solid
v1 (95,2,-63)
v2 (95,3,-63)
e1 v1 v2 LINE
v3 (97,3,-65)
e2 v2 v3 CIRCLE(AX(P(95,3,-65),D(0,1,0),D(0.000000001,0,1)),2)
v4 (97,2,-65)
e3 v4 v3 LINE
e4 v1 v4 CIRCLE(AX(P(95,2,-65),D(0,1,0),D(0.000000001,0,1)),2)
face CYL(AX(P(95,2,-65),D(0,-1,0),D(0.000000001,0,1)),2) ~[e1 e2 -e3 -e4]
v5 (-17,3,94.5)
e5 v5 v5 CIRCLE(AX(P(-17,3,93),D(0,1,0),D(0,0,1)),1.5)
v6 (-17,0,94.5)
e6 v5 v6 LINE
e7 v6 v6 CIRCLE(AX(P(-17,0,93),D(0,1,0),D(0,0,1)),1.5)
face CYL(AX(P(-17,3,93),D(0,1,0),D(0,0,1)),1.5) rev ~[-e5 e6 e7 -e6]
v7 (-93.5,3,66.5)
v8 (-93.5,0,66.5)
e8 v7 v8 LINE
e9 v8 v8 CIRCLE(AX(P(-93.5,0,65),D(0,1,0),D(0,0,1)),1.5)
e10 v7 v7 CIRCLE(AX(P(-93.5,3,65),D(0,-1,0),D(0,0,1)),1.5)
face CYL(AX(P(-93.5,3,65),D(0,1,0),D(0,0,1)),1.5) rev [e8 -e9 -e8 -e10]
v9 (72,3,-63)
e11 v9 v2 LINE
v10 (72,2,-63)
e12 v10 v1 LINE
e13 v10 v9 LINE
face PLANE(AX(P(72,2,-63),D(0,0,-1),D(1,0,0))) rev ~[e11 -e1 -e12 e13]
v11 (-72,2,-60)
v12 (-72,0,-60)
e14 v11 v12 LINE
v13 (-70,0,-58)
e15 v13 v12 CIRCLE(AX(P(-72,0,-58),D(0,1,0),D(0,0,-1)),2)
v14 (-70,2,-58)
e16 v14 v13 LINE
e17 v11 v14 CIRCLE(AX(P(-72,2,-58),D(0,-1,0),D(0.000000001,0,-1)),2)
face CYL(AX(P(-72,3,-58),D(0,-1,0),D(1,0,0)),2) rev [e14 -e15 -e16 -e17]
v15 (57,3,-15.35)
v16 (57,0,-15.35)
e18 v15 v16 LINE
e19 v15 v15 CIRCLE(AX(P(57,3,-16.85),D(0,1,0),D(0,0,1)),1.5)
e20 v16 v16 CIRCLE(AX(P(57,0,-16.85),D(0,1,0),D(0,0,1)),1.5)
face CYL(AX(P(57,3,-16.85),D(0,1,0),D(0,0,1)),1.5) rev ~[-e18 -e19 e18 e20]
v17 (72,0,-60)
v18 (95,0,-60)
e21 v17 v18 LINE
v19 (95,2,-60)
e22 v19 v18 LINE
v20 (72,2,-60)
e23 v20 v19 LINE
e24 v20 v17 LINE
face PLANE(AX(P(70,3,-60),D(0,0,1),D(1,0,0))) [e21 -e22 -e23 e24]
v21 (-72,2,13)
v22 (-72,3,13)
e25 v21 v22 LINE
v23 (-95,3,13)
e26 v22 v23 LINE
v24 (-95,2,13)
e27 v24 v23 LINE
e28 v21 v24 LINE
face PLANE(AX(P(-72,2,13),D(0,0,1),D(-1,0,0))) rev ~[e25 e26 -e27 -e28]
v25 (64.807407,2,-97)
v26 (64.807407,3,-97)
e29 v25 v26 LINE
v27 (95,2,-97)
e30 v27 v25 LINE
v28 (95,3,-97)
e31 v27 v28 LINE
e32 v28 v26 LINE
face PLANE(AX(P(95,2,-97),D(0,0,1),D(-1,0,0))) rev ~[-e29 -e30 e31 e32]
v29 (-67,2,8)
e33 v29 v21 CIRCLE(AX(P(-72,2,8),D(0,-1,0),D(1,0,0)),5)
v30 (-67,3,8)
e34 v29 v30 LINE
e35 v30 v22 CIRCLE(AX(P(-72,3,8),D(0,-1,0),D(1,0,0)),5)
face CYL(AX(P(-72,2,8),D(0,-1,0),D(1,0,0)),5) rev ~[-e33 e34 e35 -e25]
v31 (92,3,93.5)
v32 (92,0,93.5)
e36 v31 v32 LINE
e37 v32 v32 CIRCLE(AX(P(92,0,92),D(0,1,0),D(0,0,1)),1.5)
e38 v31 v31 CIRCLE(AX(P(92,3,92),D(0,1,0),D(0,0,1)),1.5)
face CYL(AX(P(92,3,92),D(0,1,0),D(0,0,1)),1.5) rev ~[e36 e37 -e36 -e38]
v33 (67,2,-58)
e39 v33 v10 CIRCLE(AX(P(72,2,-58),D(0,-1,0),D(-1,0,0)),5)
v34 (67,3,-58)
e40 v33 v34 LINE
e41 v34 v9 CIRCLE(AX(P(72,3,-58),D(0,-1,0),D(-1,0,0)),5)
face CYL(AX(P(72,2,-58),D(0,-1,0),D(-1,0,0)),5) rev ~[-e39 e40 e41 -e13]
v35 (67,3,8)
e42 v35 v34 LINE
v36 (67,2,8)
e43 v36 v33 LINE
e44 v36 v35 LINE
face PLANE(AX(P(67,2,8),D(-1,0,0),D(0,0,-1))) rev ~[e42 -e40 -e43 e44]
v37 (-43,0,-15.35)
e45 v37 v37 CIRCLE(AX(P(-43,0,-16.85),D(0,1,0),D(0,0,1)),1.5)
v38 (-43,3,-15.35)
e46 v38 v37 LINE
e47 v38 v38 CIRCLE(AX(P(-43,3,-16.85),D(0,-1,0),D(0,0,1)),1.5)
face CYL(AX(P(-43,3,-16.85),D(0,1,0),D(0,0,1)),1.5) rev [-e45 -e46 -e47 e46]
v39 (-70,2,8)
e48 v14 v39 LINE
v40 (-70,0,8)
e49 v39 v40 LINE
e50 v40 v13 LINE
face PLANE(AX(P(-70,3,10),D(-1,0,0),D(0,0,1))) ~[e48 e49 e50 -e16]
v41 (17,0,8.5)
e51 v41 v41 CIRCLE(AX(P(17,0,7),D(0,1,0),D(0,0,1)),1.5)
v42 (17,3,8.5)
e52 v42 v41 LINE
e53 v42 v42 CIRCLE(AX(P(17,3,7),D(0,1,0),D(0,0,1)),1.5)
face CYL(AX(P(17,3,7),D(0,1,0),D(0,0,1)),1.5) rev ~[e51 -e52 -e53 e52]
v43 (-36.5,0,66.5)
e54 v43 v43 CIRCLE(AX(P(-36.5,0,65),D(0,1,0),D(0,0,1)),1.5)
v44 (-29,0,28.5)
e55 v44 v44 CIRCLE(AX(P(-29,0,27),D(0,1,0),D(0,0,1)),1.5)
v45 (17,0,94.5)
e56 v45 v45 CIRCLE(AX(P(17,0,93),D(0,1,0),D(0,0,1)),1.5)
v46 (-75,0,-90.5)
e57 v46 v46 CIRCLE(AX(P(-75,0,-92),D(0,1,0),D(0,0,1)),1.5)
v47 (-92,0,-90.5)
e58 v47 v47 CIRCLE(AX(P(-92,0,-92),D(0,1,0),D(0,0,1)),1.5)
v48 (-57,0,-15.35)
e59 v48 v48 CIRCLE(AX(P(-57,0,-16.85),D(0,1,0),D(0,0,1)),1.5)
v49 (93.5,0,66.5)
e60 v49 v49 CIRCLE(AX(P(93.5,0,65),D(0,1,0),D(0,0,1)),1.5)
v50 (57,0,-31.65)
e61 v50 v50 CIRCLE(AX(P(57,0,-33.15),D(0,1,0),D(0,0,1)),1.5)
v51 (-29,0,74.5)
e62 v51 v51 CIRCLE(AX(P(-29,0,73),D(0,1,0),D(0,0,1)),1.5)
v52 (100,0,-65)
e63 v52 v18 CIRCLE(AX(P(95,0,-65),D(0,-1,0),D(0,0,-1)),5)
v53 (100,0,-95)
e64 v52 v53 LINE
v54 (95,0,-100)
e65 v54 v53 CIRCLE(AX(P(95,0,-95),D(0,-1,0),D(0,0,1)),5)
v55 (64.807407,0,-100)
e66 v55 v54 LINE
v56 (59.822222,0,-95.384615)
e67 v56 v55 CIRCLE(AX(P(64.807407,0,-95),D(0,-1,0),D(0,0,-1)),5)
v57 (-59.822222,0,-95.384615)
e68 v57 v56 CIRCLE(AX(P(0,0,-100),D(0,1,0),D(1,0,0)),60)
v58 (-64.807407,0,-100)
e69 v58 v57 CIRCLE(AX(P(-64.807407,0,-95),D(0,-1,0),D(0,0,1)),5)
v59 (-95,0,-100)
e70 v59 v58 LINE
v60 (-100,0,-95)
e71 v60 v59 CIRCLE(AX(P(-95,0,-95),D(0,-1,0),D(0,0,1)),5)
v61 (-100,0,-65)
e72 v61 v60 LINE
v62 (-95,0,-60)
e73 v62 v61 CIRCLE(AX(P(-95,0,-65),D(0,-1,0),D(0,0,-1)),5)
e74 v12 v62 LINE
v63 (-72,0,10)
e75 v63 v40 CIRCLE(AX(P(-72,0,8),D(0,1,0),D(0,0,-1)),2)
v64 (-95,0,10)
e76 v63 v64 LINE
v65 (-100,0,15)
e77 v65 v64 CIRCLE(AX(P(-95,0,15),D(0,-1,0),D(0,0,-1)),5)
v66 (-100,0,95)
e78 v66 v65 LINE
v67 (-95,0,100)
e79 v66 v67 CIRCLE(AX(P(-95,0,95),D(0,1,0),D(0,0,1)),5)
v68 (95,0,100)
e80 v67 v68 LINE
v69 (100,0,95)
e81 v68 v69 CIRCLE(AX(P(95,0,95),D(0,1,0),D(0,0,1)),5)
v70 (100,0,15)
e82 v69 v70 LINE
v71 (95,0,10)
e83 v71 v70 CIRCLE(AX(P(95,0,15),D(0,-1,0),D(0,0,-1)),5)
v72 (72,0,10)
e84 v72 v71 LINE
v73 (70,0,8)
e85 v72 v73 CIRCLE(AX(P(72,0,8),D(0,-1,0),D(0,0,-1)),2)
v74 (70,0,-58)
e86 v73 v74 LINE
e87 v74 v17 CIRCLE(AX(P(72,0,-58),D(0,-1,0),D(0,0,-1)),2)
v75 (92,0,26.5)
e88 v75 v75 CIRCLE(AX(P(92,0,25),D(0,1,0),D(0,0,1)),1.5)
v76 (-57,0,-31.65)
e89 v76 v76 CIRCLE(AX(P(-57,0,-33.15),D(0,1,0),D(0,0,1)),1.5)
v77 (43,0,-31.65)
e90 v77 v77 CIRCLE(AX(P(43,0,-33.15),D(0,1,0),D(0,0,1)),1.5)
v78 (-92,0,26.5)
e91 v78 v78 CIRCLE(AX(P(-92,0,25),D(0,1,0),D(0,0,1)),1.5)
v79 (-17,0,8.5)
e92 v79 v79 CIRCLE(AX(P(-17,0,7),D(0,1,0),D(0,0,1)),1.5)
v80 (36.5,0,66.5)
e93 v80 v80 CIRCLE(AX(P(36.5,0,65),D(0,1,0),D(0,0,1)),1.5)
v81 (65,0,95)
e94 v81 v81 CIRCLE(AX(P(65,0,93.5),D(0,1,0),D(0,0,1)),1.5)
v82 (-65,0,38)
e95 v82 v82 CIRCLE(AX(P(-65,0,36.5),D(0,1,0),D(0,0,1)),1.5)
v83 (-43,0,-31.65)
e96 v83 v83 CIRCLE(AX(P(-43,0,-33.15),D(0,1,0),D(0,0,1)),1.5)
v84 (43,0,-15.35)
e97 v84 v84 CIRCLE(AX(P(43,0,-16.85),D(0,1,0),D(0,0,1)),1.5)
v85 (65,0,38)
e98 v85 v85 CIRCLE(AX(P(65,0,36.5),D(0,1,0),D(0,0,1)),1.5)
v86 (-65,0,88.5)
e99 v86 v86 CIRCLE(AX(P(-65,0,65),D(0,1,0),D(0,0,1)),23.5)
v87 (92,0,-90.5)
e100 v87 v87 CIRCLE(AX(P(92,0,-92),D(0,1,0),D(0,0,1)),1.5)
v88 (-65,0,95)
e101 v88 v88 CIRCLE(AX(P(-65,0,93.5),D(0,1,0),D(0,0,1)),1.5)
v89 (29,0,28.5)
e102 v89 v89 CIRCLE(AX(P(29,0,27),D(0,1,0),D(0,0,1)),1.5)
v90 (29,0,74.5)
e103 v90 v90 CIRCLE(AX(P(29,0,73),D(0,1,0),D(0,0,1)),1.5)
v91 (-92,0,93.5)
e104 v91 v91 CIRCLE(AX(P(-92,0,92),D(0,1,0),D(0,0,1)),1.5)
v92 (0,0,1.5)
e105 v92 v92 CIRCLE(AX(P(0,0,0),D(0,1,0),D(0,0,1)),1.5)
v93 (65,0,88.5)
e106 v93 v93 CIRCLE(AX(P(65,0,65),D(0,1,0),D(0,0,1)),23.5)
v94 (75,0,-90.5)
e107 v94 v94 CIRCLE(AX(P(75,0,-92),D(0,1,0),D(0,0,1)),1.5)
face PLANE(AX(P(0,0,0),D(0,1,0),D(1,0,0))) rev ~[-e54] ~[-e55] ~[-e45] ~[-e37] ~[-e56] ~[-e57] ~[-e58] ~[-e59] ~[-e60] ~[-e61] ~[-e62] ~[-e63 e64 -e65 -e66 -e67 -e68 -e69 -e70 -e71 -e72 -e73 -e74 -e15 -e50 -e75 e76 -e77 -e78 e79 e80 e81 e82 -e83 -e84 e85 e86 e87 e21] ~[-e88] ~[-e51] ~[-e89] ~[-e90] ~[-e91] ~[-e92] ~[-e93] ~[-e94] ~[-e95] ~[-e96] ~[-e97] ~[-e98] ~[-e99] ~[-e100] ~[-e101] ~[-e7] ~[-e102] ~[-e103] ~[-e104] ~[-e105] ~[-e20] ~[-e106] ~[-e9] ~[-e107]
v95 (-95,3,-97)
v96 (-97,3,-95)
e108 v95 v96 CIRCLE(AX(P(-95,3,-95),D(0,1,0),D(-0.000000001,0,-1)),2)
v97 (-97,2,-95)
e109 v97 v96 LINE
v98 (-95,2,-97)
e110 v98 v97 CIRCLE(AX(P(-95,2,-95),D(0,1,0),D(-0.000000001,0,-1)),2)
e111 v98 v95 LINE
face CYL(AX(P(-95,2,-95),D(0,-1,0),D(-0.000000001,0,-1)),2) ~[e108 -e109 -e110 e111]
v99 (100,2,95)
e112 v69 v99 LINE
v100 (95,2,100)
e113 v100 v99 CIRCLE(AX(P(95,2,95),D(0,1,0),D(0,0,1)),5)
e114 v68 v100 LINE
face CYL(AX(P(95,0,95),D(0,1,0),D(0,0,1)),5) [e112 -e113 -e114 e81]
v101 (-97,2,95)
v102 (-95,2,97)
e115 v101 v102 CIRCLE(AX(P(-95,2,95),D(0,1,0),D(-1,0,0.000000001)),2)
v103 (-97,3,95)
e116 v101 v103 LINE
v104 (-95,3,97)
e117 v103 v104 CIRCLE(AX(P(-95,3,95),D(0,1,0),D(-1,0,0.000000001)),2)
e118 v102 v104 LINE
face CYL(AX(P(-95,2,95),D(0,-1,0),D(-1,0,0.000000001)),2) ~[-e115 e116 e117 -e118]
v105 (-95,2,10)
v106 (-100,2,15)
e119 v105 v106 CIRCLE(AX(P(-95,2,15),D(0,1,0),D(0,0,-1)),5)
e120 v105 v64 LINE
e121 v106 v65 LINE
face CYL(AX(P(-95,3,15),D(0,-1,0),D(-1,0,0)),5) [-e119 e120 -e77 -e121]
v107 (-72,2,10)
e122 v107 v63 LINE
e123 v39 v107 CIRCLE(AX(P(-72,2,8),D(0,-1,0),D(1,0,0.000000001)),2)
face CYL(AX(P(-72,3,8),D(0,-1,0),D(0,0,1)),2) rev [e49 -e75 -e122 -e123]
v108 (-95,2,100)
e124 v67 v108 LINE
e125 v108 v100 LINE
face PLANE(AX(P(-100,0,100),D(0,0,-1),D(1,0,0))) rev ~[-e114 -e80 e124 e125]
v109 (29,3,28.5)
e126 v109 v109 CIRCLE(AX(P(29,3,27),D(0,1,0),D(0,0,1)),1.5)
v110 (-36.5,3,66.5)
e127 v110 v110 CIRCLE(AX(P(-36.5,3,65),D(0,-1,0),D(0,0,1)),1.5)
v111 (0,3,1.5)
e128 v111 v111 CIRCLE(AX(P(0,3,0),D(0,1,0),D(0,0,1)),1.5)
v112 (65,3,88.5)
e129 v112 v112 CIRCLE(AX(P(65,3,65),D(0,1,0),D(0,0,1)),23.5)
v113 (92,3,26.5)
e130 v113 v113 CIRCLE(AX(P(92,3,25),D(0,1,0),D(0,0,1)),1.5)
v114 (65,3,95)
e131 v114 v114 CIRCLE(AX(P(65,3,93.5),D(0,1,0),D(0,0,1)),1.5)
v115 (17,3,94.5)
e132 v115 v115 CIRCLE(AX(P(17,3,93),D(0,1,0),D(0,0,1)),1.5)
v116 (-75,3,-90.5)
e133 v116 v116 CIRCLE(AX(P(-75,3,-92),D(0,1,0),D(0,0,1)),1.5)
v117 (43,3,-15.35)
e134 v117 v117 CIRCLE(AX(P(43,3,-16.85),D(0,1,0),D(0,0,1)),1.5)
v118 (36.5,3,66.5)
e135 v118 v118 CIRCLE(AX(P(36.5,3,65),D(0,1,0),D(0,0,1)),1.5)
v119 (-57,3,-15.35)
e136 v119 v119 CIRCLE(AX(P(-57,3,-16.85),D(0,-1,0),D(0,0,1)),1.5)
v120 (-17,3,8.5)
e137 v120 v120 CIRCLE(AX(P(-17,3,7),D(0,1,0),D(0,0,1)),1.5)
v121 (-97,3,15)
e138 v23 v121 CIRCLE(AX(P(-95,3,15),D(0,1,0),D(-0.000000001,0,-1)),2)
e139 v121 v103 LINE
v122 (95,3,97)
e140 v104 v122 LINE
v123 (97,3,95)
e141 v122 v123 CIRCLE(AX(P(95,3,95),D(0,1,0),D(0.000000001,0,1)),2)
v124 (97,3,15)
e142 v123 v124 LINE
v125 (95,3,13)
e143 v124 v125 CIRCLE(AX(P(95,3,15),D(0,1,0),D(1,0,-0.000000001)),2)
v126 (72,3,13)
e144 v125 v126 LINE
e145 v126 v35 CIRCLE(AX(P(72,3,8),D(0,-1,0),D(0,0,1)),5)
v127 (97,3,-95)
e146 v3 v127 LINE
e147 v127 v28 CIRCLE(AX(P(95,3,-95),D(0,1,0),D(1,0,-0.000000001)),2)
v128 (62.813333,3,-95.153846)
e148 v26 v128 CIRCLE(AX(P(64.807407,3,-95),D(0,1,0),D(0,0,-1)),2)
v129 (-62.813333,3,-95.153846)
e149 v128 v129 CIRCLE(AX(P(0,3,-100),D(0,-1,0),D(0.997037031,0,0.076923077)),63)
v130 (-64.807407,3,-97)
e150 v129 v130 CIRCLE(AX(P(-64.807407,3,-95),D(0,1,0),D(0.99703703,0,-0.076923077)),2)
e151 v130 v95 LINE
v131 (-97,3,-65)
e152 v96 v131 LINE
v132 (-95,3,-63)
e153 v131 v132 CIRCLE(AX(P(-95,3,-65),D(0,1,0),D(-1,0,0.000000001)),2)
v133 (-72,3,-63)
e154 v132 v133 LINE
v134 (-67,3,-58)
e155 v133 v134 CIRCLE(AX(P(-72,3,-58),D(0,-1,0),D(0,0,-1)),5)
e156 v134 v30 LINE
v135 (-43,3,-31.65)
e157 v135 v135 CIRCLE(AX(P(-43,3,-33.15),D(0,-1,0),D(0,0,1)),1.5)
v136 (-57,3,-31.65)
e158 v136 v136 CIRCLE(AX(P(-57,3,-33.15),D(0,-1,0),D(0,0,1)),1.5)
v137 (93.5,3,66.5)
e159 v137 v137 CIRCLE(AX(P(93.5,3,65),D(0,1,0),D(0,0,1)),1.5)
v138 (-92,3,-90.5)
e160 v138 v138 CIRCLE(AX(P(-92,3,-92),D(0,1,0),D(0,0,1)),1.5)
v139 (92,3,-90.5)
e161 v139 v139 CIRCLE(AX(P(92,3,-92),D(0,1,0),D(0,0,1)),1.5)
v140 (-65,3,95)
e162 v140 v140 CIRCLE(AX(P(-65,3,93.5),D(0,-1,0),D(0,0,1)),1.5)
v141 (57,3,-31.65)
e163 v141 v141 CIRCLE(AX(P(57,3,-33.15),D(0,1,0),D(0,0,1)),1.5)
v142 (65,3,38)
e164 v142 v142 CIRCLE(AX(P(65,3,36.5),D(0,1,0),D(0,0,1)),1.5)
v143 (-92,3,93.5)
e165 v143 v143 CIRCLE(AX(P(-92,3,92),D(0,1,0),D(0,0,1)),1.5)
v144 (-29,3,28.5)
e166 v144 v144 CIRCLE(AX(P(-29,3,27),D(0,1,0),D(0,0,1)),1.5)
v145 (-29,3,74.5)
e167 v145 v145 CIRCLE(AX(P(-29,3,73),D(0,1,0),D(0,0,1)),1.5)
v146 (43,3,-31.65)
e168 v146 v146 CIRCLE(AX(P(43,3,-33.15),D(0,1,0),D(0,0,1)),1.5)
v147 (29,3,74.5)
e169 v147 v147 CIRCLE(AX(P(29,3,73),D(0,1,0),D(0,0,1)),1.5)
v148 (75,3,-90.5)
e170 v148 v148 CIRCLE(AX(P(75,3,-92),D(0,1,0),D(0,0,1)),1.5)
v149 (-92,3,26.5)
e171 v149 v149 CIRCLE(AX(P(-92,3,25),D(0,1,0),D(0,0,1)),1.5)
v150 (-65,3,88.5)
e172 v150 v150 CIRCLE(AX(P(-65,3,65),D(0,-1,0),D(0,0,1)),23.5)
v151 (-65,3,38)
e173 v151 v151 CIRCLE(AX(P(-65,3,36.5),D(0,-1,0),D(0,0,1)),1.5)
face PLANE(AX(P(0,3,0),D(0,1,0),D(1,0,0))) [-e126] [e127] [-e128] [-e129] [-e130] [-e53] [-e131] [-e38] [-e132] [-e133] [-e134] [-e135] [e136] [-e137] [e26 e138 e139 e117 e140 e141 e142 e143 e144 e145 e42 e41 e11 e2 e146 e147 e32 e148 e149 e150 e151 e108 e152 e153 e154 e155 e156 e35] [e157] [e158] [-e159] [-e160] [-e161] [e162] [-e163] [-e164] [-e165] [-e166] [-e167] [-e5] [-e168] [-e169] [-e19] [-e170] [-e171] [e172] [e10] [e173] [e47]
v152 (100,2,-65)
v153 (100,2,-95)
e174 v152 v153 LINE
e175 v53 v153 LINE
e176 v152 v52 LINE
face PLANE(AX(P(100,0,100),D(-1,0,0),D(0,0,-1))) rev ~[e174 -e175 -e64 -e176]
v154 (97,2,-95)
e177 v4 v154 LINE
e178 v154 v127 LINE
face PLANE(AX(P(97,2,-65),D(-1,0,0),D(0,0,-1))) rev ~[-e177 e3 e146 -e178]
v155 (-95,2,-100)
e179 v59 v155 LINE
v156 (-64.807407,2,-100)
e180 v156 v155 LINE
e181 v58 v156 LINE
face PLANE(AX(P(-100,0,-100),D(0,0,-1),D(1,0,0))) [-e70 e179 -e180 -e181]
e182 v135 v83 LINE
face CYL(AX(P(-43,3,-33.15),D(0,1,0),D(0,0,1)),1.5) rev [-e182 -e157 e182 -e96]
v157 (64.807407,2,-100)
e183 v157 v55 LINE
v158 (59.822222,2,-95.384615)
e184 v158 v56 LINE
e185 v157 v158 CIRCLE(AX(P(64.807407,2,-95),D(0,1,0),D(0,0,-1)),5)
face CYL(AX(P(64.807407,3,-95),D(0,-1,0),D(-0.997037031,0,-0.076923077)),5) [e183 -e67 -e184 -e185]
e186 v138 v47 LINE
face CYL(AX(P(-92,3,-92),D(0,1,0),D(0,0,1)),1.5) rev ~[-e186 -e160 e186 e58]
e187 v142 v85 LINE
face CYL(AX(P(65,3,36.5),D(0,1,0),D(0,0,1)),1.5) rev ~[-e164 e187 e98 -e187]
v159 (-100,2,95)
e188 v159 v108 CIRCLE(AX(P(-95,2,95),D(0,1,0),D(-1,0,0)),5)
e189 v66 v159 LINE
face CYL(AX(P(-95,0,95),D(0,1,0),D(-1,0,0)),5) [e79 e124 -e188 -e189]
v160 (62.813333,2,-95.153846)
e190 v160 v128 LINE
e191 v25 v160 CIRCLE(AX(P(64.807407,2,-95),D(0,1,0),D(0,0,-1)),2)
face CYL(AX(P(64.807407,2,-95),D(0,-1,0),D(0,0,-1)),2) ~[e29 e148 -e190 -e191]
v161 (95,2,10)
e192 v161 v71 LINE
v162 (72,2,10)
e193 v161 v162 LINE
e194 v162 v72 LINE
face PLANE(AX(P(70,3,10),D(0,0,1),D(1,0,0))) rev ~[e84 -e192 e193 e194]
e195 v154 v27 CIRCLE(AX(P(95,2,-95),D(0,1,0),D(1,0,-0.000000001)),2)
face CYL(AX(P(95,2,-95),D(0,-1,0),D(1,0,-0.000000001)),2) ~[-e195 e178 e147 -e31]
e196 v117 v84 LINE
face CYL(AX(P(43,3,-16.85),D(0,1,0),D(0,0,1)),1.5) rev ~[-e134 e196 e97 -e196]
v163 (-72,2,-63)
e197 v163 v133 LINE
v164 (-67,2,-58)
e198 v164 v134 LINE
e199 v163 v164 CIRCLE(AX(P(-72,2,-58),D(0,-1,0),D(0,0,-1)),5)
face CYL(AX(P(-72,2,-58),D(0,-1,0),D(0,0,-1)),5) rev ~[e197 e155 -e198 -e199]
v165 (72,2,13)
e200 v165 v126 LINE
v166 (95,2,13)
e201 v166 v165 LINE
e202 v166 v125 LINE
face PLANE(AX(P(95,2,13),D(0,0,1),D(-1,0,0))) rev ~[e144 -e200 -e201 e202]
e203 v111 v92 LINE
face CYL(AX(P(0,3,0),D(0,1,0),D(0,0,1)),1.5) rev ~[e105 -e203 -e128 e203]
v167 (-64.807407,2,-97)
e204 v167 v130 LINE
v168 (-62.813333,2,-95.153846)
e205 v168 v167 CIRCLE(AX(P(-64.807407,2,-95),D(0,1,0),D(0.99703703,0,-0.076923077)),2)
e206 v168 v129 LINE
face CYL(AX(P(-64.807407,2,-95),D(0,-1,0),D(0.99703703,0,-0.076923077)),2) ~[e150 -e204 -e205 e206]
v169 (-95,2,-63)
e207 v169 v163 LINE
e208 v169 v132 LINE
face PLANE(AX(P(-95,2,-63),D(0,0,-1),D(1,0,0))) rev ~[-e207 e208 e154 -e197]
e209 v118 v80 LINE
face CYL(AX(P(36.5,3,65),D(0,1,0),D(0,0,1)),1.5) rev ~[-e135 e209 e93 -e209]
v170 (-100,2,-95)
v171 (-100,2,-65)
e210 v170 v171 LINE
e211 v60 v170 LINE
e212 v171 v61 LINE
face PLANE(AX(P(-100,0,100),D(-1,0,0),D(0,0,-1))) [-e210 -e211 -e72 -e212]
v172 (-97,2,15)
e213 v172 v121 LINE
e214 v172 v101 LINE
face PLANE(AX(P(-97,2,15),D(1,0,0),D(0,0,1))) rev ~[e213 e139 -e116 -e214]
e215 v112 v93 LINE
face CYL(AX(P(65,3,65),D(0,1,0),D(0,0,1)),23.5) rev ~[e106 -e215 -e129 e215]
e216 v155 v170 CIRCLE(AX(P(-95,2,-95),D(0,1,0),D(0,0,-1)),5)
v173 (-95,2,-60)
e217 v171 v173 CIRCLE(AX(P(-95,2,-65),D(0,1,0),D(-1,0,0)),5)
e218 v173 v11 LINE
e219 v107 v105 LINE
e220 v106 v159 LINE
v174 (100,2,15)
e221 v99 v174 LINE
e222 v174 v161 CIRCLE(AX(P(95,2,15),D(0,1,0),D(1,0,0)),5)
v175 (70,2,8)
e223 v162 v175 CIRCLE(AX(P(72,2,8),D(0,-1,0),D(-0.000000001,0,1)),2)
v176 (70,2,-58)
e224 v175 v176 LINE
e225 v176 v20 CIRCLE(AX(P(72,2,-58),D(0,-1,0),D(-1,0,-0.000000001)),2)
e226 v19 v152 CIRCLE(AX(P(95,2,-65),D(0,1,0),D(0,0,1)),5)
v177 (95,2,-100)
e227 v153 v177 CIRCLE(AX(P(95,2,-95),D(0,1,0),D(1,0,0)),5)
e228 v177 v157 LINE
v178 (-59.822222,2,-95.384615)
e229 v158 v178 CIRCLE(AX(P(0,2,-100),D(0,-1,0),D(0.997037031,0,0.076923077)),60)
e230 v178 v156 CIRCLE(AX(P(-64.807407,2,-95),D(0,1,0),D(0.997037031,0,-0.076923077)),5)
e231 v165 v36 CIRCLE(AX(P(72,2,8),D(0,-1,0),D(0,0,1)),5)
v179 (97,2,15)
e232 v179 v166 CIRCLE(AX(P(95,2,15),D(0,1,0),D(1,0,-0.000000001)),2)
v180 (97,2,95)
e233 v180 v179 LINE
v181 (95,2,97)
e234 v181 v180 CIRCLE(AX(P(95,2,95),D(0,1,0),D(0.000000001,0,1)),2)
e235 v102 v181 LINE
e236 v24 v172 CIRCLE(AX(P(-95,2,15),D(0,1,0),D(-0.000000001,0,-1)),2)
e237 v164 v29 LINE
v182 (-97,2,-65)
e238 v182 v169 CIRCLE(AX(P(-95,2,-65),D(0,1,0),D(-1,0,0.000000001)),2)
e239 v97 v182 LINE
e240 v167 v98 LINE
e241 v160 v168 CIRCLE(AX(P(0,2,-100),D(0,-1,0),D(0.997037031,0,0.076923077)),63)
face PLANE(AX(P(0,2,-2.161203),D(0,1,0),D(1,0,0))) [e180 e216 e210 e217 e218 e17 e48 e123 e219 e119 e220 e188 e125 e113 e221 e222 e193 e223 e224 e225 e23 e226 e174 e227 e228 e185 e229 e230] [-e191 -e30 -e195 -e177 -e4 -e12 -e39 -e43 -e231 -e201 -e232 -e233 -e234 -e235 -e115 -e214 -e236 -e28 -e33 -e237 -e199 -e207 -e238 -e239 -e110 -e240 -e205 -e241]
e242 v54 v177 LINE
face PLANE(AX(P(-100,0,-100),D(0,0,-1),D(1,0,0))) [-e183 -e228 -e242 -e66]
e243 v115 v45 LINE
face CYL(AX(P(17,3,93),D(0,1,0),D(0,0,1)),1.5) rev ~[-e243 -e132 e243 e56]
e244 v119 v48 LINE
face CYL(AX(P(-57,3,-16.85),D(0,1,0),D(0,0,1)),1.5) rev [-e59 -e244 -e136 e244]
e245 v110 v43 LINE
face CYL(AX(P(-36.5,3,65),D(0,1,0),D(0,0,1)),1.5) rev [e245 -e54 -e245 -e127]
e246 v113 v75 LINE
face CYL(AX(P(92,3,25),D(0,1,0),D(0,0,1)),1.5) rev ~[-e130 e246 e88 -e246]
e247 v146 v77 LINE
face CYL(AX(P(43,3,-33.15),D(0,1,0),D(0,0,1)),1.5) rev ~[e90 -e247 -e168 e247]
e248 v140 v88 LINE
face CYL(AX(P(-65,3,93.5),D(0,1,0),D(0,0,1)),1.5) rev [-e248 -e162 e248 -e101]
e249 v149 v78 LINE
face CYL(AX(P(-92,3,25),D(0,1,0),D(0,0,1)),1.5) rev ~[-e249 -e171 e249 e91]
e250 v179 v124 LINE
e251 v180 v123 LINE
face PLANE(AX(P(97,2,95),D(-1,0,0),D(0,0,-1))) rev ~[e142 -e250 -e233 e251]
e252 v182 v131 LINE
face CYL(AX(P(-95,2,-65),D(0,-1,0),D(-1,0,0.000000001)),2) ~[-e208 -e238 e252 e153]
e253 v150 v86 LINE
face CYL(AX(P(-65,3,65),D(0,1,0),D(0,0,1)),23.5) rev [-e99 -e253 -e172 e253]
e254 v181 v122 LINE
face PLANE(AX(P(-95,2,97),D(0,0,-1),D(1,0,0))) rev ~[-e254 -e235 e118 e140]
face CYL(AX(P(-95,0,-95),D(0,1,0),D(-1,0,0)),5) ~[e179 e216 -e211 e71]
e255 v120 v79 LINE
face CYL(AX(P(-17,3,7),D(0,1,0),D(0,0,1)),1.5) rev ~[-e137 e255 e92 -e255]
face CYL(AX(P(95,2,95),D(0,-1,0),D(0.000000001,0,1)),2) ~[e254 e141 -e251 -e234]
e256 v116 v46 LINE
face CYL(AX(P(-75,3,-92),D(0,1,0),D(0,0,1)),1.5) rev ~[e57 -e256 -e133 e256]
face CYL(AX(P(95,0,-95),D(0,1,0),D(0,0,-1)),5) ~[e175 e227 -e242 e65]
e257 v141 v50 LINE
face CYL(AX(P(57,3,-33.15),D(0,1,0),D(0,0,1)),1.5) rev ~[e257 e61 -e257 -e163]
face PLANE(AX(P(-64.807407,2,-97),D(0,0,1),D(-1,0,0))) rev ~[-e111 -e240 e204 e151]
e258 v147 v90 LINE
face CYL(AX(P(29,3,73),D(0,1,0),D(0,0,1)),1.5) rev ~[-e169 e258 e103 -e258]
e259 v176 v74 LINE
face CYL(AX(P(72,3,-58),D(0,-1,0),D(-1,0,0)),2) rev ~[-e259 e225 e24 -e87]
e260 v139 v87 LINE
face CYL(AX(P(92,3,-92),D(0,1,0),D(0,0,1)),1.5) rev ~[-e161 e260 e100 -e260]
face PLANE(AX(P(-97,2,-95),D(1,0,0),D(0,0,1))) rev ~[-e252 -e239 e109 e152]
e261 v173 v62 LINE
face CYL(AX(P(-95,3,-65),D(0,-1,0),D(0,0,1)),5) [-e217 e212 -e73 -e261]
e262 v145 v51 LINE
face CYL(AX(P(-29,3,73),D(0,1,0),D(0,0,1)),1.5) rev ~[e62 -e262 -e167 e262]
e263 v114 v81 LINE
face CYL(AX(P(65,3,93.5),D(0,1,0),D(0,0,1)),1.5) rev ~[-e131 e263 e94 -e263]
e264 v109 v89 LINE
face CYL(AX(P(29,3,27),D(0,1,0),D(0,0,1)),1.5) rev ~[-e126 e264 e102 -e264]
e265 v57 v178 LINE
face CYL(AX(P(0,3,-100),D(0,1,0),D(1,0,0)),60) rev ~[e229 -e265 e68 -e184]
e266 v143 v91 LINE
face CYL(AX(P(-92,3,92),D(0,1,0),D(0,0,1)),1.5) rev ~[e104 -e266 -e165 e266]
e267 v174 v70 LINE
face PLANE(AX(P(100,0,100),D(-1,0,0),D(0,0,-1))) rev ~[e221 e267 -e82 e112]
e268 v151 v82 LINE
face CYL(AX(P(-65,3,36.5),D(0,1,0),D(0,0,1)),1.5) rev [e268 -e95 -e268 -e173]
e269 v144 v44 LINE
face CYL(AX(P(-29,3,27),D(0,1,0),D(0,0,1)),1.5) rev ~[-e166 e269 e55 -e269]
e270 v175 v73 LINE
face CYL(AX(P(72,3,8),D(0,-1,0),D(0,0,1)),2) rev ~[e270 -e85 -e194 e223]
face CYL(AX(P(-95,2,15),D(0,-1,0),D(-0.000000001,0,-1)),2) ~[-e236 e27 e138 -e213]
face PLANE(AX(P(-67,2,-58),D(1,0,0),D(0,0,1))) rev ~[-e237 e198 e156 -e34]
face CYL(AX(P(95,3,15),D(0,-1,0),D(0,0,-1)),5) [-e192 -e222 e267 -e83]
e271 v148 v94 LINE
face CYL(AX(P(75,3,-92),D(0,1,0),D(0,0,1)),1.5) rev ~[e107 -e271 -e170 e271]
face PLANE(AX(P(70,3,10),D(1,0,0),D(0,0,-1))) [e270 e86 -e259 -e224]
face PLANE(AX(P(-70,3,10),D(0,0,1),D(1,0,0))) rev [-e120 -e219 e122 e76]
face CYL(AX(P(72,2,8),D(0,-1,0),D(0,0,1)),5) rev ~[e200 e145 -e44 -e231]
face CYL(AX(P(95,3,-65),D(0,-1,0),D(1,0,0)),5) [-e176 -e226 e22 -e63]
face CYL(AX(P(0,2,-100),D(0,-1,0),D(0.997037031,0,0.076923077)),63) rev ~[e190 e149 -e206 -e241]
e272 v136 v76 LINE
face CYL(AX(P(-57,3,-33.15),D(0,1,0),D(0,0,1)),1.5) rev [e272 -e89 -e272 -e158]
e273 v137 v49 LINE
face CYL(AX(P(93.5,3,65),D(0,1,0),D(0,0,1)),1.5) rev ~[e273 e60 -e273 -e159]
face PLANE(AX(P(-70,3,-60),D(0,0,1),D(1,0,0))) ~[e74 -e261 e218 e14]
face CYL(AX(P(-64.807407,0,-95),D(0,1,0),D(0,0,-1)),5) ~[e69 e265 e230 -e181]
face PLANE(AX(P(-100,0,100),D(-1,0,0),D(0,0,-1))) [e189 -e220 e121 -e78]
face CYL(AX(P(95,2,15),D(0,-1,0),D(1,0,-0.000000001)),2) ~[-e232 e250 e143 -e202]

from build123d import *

# Parameters (mm, degrees)
SKETCH3_W           = 200
SKETCH3_H           = 200
BOSS_EXTRUDE1_DEPTH = 3
SKETCH4_R           = 1.5
SKETCH4_R_2         = 23.5
SKETCH4_R_3         = 60
SKETCH4_W           = 30
SKETCH4_H           = 70
CUT_EXTRUDE1_DEPTH  = 5
FILLET1_R           = 5
FILLET2_R           = 2
CUT_EXTRUDE2_START  = -1
CUT_EXTRUDE2_DEPTH  = 1


with BuildPart() as part:
    # Sketch3 → Boss-Extrude1 (new body)
    with BuildSketch(Plane(origin=(0, 0, 0), x_dir=(1, 0, 0), z_dir=(0, 1, 0))):
        Rectangle(SKETCH3_W, SKETCH3_H)
    extrude(amount=BOSS_EXTRUDE1_DEPTH)

    # Sketch4 → Cut-Extrude1 (cut)
    with BuildSketch(Plane(origin=(0, 3, 0), x_dir=(1, 0, 0), z_dir=(0, 1, 0))):
        with Locations(Location((92, 92, 0), (0, 0, 270))):
            Circle(SKETCH4_R)
        with Locations(Location((92, -92, 0), (0, 0, 270))):
            Circle(SKETCH4_R)
        with Locations(Location((-92, -92, 0), (0, 0, 270))):
            Circle(SKETCH4_R)
        with Locations(Location((-92, 92, 0), (0, 0, 270))):
            Circle(SKETCH4_R)
        with Locations(Location((92, -25, 0), (0, 0, 270))):
            Circle(SKETCH4_R)
        with Locations(Location((93.5, -65, 0), (0, 0, 270))):
            Circle(SKETCH4_R)
        with Locations(Location((17, -93, 0), (0, 0, 270))):
            Circle(SKETCH4_R)
        with Locations(Location((29, -73, 0), (0, 0, 270))):
            Circle(SKETCH4_R)
        with Locations(Location((75, 92, 0), (0, 0, 270))):
            Circle(SKETCH4_R)
        with Locations(Location((29, -27, 0), (0, 0, 270))):
            Circle(SKETCH4_R)
        with Locations(Location((17, -7, 0), (0, 0, 270))):
            Circle(SKETCH4_R)
        with Locations(Location((-92, -25, 0), (0, 0, 270))):
            Circle(SKETCH4_R)
        with Locations(Location((-17, -93, 0), (0, 0, 270))):
            Circle(SKETCH4_R)
        with Locations(Location((-29, -73, 0), (0, 0, 270))):
            Circle(SKETCH4_R)
        with Locations(Location((-29, -27, 0), (0, 0, 270))):
            Circle(SKETCH4_R)
        with Locations(Location((-17, -7, 0), (0, 0, 270))):
            Circle(SKETCH4_R)
        with Locations(Location((65, -65, 0), (0, 0, 270))):
            Circle(SKETCH4_R_2)
        with Locations(Location((65, -93.5, 0), (0, 0, 270))):
            Circle(SKETCH4_R)
        with Locations(Location((36.5, -65, 0), (0, 0, 270))):
            Circle(SKETCH4_R)
        with Locations(Location((65, -36.5, 0), (0, 0, 270))):
            Circle(SKETCH4_R)
        with Locations(Location((57, 16.85, 0), (0, 0, 270))):
            Circle(SKETCH4_R)
        with Locations(Location((57, 33.15, 0), (0, 0, 270))):
            Circle(SKETCH4_R)
        with Locations(Location((43, 16.85, 0), (0, 0, 270))):
            Circle(SKETCH4_R)
        with Locations(Location((43, 33.15, 0), (0, 0, 270))):
            Circle(SKETCH4_R)
        with Locations((0, 100)):
            Circle(SKETCH4_R_3)
        with Locations(Location((-75, 92, 0), (0, 0, 270))):
            Circle(SKETCH4_R)
        with Locations(Location((0, 0, 0), (0, 0, 270))):
            Circle(SKETCH4_R)
        with Locations((85, 25)):
            Rectangle(SKETCH4_W, SKETCH4_H)
    cut_extrude1 = extrude(amount=-CUT_EXTRUDE1_DEPTH, mode=Mode.SUBTRACT)

    # Mirror1: Cut-Extrude1 across plane
    add(cut_extrude1.mirror(Plane.ZY), mode=Mode.SUBTRACT)

    # Fillet1
    fillet1_edges = [part.edges().sort_by_distance(p)[0] for p in [
        (-100, 1.5, 10),
        (-100, 1.5, -60),
        (-100, 1.5, -100),
        (100, 1.5, -100),
        (100, 1.5, 100),
        (-100, 1.5, 100),
        (60, 1.5, -100),
        (-60, 1.5, -100),
        (100, 1.5, -60),
        (100, 1.5, 10),
    ]]
    fillet(fillet1_edges, radius=FILLET1_R)

    # Fillet2
    fillet2_edges = [part.edges().sort_by_distance(p)[0] for p in [
        (-70, 1.5, -60),
        (-70, 1.5, 10),
        (70, 1.5, 10),
        (70, 1.5, -60),
    ]]
    fillet(fillet2_edges, radius=FILLET2_R)

    # Sketch5 → Cut-Extrude2 (cut)
    with BuildSketch(Plane(origin=(0, 3, 0), x_dir=(1, 0, 0), z_dir=(0, 1, 0)).offset(CUT_EXTRUDE2_START)):
        with BuildLine():
            Line((-95, -100), (95, -100))
            ThreePointArc((95, -100), (98.535533906, -98.535533906), (100, -95))
            Line((100, -95), (100, -15))
            ThreePointArc((100, -15), (98.535533906, -11.464466094), (95, -10))
            Line((95, -10), (72, -10))
            ThreePointArc((72, -10), (70.585786438, -9.414213562), (70, -8))
            Line((70, -8), (70, 58))
            ThreePointArc((70, 58), (70.585786438, 59.414213562), (72, 60))
            Line((72, 60), (95, 60))
            ThreePointArc((95, 60), (98.535533906, 61.464466094), (100, 65))
            Line((100, 65), (100, 95))
            ThreePointArc((100, 95), (98.535533906, 98.535533906), (95, 100))
            Line((95, 100), (64.807406984, 100))
            ThreePointArc((64.807406984, 100), (61.410575882, 98.668996929), (59.822221831, 95.384615385))
            ThreePointArc((59.822221831, 95.384615385), (0, 40), (-59.822221831, 95.384615385))
            ThreePointArc((-59.822221831, 95.384615385), (-61.410575882, 98.668996929), (-64.807406984, 100))
            Line((-64.807406984, 100), (-95, 100))
            ThreePointArc((-95, 100), (-98.535533906, 98.535533906), (-100, 95))
            Line((-100, 95), (-100, 65))
            ThreePointArc((-100, 65), (-98.535533906, 61.464466094), (-95, 60))
            Line((-95, 60), (-72, 60))
            ThreePointArc((-72, 60), (-70.585786438, 59.414213562), (-70, 58))
            Line((-70, 58), (-70, -8))
            ThreePointArc((-70, -8), (-70.585786438, -9.414213562), (-72, -10))
            Line((-72, -10), (-95, -10))
            ThreePointArc((-95, -10), (-98.535533906, -11.464466094), (-100, -15))
            Line((-100, -15), (-100, -95))
            ThreePointArc((-100, -95), (-98.535533906, -98.535533906), (-95, -100))
        make_face()
        with BuildLine():
            Line((-97, 95), (-97, 65))
            ThreePointArc((-97, 65), (-96.414213562, 63.585786438), (-95, 63))
            Line((-95, 63), (-72, 63))
            ThreePointArc((-72, 63), (-68.464466094, 61.535533906), (-67, 58))
            Line((-67, 58), (-67, -8))
            ThreePointArc((-67, -8), (-68.464466094, -11.535533906), (-72, -13))
            Line((-72, -13), (-95, -13))
            ThreePointArc((-95, -13), (-96.414213562, -13.585786438), (-97, -15))
            Line((-97, -15), (-97, -95))
            ThreePointArc((-97, -95), (-96.414213562, -96.414213562), (-95, -97))
            Line((-95, -97), (95, -97))
            ThreePointArc((95, -97), (96.414213562, -96.414213562), (97, -95))
            Line((97, -95), (97, -15))
            ThreePointArc((97, -15), (96.414213562, -13.585786438), (95, -13))
            Line((95, -13), (72, -13))
            ThreePointArc((72, -13), (68.464466094, -11.535533906), (67, -8))
            Line((67, -8), (67, 58))
            ThreePointArc((67, 58), (68.464466094, 61.535533906), (72, 63))
            Line((72, 63), (95, 63))
            ThreePointArc((95, 63), (96.414213562, 63.585786438), (97, 65))
            Line((97, 65), (97, 95))
            ThreePointArc((97, 95), (96.414213562, 96.414213562), (95, 97))
            Line((95, 97), (64.807406984, 97))
            ThreePointArc((64.807406984, 97), (63.448674543, 96.467598771), (62.813332923, 95.153846154))
            ThreePointArc((62.813332923, 95.153846154), (0, 37), (-62.813332923, 95.153846154))
            ThreePointArc((-62.813332923, 95.153846154), (-63.448674543, 96.467598771), (-64.807406984, 97))
            Line((-64.807406984, 97), (-95, 97))
            ThreePointArc((-95, 97), (-96.414213562, 96.414213562), (-97, 95))
        make_face(mode=Mode.SUBTRACT)
    extrude(amount=CUT_EXTRUDE2_DEPTH, mode=Mode.SUBTRACT)


solid = part.part
